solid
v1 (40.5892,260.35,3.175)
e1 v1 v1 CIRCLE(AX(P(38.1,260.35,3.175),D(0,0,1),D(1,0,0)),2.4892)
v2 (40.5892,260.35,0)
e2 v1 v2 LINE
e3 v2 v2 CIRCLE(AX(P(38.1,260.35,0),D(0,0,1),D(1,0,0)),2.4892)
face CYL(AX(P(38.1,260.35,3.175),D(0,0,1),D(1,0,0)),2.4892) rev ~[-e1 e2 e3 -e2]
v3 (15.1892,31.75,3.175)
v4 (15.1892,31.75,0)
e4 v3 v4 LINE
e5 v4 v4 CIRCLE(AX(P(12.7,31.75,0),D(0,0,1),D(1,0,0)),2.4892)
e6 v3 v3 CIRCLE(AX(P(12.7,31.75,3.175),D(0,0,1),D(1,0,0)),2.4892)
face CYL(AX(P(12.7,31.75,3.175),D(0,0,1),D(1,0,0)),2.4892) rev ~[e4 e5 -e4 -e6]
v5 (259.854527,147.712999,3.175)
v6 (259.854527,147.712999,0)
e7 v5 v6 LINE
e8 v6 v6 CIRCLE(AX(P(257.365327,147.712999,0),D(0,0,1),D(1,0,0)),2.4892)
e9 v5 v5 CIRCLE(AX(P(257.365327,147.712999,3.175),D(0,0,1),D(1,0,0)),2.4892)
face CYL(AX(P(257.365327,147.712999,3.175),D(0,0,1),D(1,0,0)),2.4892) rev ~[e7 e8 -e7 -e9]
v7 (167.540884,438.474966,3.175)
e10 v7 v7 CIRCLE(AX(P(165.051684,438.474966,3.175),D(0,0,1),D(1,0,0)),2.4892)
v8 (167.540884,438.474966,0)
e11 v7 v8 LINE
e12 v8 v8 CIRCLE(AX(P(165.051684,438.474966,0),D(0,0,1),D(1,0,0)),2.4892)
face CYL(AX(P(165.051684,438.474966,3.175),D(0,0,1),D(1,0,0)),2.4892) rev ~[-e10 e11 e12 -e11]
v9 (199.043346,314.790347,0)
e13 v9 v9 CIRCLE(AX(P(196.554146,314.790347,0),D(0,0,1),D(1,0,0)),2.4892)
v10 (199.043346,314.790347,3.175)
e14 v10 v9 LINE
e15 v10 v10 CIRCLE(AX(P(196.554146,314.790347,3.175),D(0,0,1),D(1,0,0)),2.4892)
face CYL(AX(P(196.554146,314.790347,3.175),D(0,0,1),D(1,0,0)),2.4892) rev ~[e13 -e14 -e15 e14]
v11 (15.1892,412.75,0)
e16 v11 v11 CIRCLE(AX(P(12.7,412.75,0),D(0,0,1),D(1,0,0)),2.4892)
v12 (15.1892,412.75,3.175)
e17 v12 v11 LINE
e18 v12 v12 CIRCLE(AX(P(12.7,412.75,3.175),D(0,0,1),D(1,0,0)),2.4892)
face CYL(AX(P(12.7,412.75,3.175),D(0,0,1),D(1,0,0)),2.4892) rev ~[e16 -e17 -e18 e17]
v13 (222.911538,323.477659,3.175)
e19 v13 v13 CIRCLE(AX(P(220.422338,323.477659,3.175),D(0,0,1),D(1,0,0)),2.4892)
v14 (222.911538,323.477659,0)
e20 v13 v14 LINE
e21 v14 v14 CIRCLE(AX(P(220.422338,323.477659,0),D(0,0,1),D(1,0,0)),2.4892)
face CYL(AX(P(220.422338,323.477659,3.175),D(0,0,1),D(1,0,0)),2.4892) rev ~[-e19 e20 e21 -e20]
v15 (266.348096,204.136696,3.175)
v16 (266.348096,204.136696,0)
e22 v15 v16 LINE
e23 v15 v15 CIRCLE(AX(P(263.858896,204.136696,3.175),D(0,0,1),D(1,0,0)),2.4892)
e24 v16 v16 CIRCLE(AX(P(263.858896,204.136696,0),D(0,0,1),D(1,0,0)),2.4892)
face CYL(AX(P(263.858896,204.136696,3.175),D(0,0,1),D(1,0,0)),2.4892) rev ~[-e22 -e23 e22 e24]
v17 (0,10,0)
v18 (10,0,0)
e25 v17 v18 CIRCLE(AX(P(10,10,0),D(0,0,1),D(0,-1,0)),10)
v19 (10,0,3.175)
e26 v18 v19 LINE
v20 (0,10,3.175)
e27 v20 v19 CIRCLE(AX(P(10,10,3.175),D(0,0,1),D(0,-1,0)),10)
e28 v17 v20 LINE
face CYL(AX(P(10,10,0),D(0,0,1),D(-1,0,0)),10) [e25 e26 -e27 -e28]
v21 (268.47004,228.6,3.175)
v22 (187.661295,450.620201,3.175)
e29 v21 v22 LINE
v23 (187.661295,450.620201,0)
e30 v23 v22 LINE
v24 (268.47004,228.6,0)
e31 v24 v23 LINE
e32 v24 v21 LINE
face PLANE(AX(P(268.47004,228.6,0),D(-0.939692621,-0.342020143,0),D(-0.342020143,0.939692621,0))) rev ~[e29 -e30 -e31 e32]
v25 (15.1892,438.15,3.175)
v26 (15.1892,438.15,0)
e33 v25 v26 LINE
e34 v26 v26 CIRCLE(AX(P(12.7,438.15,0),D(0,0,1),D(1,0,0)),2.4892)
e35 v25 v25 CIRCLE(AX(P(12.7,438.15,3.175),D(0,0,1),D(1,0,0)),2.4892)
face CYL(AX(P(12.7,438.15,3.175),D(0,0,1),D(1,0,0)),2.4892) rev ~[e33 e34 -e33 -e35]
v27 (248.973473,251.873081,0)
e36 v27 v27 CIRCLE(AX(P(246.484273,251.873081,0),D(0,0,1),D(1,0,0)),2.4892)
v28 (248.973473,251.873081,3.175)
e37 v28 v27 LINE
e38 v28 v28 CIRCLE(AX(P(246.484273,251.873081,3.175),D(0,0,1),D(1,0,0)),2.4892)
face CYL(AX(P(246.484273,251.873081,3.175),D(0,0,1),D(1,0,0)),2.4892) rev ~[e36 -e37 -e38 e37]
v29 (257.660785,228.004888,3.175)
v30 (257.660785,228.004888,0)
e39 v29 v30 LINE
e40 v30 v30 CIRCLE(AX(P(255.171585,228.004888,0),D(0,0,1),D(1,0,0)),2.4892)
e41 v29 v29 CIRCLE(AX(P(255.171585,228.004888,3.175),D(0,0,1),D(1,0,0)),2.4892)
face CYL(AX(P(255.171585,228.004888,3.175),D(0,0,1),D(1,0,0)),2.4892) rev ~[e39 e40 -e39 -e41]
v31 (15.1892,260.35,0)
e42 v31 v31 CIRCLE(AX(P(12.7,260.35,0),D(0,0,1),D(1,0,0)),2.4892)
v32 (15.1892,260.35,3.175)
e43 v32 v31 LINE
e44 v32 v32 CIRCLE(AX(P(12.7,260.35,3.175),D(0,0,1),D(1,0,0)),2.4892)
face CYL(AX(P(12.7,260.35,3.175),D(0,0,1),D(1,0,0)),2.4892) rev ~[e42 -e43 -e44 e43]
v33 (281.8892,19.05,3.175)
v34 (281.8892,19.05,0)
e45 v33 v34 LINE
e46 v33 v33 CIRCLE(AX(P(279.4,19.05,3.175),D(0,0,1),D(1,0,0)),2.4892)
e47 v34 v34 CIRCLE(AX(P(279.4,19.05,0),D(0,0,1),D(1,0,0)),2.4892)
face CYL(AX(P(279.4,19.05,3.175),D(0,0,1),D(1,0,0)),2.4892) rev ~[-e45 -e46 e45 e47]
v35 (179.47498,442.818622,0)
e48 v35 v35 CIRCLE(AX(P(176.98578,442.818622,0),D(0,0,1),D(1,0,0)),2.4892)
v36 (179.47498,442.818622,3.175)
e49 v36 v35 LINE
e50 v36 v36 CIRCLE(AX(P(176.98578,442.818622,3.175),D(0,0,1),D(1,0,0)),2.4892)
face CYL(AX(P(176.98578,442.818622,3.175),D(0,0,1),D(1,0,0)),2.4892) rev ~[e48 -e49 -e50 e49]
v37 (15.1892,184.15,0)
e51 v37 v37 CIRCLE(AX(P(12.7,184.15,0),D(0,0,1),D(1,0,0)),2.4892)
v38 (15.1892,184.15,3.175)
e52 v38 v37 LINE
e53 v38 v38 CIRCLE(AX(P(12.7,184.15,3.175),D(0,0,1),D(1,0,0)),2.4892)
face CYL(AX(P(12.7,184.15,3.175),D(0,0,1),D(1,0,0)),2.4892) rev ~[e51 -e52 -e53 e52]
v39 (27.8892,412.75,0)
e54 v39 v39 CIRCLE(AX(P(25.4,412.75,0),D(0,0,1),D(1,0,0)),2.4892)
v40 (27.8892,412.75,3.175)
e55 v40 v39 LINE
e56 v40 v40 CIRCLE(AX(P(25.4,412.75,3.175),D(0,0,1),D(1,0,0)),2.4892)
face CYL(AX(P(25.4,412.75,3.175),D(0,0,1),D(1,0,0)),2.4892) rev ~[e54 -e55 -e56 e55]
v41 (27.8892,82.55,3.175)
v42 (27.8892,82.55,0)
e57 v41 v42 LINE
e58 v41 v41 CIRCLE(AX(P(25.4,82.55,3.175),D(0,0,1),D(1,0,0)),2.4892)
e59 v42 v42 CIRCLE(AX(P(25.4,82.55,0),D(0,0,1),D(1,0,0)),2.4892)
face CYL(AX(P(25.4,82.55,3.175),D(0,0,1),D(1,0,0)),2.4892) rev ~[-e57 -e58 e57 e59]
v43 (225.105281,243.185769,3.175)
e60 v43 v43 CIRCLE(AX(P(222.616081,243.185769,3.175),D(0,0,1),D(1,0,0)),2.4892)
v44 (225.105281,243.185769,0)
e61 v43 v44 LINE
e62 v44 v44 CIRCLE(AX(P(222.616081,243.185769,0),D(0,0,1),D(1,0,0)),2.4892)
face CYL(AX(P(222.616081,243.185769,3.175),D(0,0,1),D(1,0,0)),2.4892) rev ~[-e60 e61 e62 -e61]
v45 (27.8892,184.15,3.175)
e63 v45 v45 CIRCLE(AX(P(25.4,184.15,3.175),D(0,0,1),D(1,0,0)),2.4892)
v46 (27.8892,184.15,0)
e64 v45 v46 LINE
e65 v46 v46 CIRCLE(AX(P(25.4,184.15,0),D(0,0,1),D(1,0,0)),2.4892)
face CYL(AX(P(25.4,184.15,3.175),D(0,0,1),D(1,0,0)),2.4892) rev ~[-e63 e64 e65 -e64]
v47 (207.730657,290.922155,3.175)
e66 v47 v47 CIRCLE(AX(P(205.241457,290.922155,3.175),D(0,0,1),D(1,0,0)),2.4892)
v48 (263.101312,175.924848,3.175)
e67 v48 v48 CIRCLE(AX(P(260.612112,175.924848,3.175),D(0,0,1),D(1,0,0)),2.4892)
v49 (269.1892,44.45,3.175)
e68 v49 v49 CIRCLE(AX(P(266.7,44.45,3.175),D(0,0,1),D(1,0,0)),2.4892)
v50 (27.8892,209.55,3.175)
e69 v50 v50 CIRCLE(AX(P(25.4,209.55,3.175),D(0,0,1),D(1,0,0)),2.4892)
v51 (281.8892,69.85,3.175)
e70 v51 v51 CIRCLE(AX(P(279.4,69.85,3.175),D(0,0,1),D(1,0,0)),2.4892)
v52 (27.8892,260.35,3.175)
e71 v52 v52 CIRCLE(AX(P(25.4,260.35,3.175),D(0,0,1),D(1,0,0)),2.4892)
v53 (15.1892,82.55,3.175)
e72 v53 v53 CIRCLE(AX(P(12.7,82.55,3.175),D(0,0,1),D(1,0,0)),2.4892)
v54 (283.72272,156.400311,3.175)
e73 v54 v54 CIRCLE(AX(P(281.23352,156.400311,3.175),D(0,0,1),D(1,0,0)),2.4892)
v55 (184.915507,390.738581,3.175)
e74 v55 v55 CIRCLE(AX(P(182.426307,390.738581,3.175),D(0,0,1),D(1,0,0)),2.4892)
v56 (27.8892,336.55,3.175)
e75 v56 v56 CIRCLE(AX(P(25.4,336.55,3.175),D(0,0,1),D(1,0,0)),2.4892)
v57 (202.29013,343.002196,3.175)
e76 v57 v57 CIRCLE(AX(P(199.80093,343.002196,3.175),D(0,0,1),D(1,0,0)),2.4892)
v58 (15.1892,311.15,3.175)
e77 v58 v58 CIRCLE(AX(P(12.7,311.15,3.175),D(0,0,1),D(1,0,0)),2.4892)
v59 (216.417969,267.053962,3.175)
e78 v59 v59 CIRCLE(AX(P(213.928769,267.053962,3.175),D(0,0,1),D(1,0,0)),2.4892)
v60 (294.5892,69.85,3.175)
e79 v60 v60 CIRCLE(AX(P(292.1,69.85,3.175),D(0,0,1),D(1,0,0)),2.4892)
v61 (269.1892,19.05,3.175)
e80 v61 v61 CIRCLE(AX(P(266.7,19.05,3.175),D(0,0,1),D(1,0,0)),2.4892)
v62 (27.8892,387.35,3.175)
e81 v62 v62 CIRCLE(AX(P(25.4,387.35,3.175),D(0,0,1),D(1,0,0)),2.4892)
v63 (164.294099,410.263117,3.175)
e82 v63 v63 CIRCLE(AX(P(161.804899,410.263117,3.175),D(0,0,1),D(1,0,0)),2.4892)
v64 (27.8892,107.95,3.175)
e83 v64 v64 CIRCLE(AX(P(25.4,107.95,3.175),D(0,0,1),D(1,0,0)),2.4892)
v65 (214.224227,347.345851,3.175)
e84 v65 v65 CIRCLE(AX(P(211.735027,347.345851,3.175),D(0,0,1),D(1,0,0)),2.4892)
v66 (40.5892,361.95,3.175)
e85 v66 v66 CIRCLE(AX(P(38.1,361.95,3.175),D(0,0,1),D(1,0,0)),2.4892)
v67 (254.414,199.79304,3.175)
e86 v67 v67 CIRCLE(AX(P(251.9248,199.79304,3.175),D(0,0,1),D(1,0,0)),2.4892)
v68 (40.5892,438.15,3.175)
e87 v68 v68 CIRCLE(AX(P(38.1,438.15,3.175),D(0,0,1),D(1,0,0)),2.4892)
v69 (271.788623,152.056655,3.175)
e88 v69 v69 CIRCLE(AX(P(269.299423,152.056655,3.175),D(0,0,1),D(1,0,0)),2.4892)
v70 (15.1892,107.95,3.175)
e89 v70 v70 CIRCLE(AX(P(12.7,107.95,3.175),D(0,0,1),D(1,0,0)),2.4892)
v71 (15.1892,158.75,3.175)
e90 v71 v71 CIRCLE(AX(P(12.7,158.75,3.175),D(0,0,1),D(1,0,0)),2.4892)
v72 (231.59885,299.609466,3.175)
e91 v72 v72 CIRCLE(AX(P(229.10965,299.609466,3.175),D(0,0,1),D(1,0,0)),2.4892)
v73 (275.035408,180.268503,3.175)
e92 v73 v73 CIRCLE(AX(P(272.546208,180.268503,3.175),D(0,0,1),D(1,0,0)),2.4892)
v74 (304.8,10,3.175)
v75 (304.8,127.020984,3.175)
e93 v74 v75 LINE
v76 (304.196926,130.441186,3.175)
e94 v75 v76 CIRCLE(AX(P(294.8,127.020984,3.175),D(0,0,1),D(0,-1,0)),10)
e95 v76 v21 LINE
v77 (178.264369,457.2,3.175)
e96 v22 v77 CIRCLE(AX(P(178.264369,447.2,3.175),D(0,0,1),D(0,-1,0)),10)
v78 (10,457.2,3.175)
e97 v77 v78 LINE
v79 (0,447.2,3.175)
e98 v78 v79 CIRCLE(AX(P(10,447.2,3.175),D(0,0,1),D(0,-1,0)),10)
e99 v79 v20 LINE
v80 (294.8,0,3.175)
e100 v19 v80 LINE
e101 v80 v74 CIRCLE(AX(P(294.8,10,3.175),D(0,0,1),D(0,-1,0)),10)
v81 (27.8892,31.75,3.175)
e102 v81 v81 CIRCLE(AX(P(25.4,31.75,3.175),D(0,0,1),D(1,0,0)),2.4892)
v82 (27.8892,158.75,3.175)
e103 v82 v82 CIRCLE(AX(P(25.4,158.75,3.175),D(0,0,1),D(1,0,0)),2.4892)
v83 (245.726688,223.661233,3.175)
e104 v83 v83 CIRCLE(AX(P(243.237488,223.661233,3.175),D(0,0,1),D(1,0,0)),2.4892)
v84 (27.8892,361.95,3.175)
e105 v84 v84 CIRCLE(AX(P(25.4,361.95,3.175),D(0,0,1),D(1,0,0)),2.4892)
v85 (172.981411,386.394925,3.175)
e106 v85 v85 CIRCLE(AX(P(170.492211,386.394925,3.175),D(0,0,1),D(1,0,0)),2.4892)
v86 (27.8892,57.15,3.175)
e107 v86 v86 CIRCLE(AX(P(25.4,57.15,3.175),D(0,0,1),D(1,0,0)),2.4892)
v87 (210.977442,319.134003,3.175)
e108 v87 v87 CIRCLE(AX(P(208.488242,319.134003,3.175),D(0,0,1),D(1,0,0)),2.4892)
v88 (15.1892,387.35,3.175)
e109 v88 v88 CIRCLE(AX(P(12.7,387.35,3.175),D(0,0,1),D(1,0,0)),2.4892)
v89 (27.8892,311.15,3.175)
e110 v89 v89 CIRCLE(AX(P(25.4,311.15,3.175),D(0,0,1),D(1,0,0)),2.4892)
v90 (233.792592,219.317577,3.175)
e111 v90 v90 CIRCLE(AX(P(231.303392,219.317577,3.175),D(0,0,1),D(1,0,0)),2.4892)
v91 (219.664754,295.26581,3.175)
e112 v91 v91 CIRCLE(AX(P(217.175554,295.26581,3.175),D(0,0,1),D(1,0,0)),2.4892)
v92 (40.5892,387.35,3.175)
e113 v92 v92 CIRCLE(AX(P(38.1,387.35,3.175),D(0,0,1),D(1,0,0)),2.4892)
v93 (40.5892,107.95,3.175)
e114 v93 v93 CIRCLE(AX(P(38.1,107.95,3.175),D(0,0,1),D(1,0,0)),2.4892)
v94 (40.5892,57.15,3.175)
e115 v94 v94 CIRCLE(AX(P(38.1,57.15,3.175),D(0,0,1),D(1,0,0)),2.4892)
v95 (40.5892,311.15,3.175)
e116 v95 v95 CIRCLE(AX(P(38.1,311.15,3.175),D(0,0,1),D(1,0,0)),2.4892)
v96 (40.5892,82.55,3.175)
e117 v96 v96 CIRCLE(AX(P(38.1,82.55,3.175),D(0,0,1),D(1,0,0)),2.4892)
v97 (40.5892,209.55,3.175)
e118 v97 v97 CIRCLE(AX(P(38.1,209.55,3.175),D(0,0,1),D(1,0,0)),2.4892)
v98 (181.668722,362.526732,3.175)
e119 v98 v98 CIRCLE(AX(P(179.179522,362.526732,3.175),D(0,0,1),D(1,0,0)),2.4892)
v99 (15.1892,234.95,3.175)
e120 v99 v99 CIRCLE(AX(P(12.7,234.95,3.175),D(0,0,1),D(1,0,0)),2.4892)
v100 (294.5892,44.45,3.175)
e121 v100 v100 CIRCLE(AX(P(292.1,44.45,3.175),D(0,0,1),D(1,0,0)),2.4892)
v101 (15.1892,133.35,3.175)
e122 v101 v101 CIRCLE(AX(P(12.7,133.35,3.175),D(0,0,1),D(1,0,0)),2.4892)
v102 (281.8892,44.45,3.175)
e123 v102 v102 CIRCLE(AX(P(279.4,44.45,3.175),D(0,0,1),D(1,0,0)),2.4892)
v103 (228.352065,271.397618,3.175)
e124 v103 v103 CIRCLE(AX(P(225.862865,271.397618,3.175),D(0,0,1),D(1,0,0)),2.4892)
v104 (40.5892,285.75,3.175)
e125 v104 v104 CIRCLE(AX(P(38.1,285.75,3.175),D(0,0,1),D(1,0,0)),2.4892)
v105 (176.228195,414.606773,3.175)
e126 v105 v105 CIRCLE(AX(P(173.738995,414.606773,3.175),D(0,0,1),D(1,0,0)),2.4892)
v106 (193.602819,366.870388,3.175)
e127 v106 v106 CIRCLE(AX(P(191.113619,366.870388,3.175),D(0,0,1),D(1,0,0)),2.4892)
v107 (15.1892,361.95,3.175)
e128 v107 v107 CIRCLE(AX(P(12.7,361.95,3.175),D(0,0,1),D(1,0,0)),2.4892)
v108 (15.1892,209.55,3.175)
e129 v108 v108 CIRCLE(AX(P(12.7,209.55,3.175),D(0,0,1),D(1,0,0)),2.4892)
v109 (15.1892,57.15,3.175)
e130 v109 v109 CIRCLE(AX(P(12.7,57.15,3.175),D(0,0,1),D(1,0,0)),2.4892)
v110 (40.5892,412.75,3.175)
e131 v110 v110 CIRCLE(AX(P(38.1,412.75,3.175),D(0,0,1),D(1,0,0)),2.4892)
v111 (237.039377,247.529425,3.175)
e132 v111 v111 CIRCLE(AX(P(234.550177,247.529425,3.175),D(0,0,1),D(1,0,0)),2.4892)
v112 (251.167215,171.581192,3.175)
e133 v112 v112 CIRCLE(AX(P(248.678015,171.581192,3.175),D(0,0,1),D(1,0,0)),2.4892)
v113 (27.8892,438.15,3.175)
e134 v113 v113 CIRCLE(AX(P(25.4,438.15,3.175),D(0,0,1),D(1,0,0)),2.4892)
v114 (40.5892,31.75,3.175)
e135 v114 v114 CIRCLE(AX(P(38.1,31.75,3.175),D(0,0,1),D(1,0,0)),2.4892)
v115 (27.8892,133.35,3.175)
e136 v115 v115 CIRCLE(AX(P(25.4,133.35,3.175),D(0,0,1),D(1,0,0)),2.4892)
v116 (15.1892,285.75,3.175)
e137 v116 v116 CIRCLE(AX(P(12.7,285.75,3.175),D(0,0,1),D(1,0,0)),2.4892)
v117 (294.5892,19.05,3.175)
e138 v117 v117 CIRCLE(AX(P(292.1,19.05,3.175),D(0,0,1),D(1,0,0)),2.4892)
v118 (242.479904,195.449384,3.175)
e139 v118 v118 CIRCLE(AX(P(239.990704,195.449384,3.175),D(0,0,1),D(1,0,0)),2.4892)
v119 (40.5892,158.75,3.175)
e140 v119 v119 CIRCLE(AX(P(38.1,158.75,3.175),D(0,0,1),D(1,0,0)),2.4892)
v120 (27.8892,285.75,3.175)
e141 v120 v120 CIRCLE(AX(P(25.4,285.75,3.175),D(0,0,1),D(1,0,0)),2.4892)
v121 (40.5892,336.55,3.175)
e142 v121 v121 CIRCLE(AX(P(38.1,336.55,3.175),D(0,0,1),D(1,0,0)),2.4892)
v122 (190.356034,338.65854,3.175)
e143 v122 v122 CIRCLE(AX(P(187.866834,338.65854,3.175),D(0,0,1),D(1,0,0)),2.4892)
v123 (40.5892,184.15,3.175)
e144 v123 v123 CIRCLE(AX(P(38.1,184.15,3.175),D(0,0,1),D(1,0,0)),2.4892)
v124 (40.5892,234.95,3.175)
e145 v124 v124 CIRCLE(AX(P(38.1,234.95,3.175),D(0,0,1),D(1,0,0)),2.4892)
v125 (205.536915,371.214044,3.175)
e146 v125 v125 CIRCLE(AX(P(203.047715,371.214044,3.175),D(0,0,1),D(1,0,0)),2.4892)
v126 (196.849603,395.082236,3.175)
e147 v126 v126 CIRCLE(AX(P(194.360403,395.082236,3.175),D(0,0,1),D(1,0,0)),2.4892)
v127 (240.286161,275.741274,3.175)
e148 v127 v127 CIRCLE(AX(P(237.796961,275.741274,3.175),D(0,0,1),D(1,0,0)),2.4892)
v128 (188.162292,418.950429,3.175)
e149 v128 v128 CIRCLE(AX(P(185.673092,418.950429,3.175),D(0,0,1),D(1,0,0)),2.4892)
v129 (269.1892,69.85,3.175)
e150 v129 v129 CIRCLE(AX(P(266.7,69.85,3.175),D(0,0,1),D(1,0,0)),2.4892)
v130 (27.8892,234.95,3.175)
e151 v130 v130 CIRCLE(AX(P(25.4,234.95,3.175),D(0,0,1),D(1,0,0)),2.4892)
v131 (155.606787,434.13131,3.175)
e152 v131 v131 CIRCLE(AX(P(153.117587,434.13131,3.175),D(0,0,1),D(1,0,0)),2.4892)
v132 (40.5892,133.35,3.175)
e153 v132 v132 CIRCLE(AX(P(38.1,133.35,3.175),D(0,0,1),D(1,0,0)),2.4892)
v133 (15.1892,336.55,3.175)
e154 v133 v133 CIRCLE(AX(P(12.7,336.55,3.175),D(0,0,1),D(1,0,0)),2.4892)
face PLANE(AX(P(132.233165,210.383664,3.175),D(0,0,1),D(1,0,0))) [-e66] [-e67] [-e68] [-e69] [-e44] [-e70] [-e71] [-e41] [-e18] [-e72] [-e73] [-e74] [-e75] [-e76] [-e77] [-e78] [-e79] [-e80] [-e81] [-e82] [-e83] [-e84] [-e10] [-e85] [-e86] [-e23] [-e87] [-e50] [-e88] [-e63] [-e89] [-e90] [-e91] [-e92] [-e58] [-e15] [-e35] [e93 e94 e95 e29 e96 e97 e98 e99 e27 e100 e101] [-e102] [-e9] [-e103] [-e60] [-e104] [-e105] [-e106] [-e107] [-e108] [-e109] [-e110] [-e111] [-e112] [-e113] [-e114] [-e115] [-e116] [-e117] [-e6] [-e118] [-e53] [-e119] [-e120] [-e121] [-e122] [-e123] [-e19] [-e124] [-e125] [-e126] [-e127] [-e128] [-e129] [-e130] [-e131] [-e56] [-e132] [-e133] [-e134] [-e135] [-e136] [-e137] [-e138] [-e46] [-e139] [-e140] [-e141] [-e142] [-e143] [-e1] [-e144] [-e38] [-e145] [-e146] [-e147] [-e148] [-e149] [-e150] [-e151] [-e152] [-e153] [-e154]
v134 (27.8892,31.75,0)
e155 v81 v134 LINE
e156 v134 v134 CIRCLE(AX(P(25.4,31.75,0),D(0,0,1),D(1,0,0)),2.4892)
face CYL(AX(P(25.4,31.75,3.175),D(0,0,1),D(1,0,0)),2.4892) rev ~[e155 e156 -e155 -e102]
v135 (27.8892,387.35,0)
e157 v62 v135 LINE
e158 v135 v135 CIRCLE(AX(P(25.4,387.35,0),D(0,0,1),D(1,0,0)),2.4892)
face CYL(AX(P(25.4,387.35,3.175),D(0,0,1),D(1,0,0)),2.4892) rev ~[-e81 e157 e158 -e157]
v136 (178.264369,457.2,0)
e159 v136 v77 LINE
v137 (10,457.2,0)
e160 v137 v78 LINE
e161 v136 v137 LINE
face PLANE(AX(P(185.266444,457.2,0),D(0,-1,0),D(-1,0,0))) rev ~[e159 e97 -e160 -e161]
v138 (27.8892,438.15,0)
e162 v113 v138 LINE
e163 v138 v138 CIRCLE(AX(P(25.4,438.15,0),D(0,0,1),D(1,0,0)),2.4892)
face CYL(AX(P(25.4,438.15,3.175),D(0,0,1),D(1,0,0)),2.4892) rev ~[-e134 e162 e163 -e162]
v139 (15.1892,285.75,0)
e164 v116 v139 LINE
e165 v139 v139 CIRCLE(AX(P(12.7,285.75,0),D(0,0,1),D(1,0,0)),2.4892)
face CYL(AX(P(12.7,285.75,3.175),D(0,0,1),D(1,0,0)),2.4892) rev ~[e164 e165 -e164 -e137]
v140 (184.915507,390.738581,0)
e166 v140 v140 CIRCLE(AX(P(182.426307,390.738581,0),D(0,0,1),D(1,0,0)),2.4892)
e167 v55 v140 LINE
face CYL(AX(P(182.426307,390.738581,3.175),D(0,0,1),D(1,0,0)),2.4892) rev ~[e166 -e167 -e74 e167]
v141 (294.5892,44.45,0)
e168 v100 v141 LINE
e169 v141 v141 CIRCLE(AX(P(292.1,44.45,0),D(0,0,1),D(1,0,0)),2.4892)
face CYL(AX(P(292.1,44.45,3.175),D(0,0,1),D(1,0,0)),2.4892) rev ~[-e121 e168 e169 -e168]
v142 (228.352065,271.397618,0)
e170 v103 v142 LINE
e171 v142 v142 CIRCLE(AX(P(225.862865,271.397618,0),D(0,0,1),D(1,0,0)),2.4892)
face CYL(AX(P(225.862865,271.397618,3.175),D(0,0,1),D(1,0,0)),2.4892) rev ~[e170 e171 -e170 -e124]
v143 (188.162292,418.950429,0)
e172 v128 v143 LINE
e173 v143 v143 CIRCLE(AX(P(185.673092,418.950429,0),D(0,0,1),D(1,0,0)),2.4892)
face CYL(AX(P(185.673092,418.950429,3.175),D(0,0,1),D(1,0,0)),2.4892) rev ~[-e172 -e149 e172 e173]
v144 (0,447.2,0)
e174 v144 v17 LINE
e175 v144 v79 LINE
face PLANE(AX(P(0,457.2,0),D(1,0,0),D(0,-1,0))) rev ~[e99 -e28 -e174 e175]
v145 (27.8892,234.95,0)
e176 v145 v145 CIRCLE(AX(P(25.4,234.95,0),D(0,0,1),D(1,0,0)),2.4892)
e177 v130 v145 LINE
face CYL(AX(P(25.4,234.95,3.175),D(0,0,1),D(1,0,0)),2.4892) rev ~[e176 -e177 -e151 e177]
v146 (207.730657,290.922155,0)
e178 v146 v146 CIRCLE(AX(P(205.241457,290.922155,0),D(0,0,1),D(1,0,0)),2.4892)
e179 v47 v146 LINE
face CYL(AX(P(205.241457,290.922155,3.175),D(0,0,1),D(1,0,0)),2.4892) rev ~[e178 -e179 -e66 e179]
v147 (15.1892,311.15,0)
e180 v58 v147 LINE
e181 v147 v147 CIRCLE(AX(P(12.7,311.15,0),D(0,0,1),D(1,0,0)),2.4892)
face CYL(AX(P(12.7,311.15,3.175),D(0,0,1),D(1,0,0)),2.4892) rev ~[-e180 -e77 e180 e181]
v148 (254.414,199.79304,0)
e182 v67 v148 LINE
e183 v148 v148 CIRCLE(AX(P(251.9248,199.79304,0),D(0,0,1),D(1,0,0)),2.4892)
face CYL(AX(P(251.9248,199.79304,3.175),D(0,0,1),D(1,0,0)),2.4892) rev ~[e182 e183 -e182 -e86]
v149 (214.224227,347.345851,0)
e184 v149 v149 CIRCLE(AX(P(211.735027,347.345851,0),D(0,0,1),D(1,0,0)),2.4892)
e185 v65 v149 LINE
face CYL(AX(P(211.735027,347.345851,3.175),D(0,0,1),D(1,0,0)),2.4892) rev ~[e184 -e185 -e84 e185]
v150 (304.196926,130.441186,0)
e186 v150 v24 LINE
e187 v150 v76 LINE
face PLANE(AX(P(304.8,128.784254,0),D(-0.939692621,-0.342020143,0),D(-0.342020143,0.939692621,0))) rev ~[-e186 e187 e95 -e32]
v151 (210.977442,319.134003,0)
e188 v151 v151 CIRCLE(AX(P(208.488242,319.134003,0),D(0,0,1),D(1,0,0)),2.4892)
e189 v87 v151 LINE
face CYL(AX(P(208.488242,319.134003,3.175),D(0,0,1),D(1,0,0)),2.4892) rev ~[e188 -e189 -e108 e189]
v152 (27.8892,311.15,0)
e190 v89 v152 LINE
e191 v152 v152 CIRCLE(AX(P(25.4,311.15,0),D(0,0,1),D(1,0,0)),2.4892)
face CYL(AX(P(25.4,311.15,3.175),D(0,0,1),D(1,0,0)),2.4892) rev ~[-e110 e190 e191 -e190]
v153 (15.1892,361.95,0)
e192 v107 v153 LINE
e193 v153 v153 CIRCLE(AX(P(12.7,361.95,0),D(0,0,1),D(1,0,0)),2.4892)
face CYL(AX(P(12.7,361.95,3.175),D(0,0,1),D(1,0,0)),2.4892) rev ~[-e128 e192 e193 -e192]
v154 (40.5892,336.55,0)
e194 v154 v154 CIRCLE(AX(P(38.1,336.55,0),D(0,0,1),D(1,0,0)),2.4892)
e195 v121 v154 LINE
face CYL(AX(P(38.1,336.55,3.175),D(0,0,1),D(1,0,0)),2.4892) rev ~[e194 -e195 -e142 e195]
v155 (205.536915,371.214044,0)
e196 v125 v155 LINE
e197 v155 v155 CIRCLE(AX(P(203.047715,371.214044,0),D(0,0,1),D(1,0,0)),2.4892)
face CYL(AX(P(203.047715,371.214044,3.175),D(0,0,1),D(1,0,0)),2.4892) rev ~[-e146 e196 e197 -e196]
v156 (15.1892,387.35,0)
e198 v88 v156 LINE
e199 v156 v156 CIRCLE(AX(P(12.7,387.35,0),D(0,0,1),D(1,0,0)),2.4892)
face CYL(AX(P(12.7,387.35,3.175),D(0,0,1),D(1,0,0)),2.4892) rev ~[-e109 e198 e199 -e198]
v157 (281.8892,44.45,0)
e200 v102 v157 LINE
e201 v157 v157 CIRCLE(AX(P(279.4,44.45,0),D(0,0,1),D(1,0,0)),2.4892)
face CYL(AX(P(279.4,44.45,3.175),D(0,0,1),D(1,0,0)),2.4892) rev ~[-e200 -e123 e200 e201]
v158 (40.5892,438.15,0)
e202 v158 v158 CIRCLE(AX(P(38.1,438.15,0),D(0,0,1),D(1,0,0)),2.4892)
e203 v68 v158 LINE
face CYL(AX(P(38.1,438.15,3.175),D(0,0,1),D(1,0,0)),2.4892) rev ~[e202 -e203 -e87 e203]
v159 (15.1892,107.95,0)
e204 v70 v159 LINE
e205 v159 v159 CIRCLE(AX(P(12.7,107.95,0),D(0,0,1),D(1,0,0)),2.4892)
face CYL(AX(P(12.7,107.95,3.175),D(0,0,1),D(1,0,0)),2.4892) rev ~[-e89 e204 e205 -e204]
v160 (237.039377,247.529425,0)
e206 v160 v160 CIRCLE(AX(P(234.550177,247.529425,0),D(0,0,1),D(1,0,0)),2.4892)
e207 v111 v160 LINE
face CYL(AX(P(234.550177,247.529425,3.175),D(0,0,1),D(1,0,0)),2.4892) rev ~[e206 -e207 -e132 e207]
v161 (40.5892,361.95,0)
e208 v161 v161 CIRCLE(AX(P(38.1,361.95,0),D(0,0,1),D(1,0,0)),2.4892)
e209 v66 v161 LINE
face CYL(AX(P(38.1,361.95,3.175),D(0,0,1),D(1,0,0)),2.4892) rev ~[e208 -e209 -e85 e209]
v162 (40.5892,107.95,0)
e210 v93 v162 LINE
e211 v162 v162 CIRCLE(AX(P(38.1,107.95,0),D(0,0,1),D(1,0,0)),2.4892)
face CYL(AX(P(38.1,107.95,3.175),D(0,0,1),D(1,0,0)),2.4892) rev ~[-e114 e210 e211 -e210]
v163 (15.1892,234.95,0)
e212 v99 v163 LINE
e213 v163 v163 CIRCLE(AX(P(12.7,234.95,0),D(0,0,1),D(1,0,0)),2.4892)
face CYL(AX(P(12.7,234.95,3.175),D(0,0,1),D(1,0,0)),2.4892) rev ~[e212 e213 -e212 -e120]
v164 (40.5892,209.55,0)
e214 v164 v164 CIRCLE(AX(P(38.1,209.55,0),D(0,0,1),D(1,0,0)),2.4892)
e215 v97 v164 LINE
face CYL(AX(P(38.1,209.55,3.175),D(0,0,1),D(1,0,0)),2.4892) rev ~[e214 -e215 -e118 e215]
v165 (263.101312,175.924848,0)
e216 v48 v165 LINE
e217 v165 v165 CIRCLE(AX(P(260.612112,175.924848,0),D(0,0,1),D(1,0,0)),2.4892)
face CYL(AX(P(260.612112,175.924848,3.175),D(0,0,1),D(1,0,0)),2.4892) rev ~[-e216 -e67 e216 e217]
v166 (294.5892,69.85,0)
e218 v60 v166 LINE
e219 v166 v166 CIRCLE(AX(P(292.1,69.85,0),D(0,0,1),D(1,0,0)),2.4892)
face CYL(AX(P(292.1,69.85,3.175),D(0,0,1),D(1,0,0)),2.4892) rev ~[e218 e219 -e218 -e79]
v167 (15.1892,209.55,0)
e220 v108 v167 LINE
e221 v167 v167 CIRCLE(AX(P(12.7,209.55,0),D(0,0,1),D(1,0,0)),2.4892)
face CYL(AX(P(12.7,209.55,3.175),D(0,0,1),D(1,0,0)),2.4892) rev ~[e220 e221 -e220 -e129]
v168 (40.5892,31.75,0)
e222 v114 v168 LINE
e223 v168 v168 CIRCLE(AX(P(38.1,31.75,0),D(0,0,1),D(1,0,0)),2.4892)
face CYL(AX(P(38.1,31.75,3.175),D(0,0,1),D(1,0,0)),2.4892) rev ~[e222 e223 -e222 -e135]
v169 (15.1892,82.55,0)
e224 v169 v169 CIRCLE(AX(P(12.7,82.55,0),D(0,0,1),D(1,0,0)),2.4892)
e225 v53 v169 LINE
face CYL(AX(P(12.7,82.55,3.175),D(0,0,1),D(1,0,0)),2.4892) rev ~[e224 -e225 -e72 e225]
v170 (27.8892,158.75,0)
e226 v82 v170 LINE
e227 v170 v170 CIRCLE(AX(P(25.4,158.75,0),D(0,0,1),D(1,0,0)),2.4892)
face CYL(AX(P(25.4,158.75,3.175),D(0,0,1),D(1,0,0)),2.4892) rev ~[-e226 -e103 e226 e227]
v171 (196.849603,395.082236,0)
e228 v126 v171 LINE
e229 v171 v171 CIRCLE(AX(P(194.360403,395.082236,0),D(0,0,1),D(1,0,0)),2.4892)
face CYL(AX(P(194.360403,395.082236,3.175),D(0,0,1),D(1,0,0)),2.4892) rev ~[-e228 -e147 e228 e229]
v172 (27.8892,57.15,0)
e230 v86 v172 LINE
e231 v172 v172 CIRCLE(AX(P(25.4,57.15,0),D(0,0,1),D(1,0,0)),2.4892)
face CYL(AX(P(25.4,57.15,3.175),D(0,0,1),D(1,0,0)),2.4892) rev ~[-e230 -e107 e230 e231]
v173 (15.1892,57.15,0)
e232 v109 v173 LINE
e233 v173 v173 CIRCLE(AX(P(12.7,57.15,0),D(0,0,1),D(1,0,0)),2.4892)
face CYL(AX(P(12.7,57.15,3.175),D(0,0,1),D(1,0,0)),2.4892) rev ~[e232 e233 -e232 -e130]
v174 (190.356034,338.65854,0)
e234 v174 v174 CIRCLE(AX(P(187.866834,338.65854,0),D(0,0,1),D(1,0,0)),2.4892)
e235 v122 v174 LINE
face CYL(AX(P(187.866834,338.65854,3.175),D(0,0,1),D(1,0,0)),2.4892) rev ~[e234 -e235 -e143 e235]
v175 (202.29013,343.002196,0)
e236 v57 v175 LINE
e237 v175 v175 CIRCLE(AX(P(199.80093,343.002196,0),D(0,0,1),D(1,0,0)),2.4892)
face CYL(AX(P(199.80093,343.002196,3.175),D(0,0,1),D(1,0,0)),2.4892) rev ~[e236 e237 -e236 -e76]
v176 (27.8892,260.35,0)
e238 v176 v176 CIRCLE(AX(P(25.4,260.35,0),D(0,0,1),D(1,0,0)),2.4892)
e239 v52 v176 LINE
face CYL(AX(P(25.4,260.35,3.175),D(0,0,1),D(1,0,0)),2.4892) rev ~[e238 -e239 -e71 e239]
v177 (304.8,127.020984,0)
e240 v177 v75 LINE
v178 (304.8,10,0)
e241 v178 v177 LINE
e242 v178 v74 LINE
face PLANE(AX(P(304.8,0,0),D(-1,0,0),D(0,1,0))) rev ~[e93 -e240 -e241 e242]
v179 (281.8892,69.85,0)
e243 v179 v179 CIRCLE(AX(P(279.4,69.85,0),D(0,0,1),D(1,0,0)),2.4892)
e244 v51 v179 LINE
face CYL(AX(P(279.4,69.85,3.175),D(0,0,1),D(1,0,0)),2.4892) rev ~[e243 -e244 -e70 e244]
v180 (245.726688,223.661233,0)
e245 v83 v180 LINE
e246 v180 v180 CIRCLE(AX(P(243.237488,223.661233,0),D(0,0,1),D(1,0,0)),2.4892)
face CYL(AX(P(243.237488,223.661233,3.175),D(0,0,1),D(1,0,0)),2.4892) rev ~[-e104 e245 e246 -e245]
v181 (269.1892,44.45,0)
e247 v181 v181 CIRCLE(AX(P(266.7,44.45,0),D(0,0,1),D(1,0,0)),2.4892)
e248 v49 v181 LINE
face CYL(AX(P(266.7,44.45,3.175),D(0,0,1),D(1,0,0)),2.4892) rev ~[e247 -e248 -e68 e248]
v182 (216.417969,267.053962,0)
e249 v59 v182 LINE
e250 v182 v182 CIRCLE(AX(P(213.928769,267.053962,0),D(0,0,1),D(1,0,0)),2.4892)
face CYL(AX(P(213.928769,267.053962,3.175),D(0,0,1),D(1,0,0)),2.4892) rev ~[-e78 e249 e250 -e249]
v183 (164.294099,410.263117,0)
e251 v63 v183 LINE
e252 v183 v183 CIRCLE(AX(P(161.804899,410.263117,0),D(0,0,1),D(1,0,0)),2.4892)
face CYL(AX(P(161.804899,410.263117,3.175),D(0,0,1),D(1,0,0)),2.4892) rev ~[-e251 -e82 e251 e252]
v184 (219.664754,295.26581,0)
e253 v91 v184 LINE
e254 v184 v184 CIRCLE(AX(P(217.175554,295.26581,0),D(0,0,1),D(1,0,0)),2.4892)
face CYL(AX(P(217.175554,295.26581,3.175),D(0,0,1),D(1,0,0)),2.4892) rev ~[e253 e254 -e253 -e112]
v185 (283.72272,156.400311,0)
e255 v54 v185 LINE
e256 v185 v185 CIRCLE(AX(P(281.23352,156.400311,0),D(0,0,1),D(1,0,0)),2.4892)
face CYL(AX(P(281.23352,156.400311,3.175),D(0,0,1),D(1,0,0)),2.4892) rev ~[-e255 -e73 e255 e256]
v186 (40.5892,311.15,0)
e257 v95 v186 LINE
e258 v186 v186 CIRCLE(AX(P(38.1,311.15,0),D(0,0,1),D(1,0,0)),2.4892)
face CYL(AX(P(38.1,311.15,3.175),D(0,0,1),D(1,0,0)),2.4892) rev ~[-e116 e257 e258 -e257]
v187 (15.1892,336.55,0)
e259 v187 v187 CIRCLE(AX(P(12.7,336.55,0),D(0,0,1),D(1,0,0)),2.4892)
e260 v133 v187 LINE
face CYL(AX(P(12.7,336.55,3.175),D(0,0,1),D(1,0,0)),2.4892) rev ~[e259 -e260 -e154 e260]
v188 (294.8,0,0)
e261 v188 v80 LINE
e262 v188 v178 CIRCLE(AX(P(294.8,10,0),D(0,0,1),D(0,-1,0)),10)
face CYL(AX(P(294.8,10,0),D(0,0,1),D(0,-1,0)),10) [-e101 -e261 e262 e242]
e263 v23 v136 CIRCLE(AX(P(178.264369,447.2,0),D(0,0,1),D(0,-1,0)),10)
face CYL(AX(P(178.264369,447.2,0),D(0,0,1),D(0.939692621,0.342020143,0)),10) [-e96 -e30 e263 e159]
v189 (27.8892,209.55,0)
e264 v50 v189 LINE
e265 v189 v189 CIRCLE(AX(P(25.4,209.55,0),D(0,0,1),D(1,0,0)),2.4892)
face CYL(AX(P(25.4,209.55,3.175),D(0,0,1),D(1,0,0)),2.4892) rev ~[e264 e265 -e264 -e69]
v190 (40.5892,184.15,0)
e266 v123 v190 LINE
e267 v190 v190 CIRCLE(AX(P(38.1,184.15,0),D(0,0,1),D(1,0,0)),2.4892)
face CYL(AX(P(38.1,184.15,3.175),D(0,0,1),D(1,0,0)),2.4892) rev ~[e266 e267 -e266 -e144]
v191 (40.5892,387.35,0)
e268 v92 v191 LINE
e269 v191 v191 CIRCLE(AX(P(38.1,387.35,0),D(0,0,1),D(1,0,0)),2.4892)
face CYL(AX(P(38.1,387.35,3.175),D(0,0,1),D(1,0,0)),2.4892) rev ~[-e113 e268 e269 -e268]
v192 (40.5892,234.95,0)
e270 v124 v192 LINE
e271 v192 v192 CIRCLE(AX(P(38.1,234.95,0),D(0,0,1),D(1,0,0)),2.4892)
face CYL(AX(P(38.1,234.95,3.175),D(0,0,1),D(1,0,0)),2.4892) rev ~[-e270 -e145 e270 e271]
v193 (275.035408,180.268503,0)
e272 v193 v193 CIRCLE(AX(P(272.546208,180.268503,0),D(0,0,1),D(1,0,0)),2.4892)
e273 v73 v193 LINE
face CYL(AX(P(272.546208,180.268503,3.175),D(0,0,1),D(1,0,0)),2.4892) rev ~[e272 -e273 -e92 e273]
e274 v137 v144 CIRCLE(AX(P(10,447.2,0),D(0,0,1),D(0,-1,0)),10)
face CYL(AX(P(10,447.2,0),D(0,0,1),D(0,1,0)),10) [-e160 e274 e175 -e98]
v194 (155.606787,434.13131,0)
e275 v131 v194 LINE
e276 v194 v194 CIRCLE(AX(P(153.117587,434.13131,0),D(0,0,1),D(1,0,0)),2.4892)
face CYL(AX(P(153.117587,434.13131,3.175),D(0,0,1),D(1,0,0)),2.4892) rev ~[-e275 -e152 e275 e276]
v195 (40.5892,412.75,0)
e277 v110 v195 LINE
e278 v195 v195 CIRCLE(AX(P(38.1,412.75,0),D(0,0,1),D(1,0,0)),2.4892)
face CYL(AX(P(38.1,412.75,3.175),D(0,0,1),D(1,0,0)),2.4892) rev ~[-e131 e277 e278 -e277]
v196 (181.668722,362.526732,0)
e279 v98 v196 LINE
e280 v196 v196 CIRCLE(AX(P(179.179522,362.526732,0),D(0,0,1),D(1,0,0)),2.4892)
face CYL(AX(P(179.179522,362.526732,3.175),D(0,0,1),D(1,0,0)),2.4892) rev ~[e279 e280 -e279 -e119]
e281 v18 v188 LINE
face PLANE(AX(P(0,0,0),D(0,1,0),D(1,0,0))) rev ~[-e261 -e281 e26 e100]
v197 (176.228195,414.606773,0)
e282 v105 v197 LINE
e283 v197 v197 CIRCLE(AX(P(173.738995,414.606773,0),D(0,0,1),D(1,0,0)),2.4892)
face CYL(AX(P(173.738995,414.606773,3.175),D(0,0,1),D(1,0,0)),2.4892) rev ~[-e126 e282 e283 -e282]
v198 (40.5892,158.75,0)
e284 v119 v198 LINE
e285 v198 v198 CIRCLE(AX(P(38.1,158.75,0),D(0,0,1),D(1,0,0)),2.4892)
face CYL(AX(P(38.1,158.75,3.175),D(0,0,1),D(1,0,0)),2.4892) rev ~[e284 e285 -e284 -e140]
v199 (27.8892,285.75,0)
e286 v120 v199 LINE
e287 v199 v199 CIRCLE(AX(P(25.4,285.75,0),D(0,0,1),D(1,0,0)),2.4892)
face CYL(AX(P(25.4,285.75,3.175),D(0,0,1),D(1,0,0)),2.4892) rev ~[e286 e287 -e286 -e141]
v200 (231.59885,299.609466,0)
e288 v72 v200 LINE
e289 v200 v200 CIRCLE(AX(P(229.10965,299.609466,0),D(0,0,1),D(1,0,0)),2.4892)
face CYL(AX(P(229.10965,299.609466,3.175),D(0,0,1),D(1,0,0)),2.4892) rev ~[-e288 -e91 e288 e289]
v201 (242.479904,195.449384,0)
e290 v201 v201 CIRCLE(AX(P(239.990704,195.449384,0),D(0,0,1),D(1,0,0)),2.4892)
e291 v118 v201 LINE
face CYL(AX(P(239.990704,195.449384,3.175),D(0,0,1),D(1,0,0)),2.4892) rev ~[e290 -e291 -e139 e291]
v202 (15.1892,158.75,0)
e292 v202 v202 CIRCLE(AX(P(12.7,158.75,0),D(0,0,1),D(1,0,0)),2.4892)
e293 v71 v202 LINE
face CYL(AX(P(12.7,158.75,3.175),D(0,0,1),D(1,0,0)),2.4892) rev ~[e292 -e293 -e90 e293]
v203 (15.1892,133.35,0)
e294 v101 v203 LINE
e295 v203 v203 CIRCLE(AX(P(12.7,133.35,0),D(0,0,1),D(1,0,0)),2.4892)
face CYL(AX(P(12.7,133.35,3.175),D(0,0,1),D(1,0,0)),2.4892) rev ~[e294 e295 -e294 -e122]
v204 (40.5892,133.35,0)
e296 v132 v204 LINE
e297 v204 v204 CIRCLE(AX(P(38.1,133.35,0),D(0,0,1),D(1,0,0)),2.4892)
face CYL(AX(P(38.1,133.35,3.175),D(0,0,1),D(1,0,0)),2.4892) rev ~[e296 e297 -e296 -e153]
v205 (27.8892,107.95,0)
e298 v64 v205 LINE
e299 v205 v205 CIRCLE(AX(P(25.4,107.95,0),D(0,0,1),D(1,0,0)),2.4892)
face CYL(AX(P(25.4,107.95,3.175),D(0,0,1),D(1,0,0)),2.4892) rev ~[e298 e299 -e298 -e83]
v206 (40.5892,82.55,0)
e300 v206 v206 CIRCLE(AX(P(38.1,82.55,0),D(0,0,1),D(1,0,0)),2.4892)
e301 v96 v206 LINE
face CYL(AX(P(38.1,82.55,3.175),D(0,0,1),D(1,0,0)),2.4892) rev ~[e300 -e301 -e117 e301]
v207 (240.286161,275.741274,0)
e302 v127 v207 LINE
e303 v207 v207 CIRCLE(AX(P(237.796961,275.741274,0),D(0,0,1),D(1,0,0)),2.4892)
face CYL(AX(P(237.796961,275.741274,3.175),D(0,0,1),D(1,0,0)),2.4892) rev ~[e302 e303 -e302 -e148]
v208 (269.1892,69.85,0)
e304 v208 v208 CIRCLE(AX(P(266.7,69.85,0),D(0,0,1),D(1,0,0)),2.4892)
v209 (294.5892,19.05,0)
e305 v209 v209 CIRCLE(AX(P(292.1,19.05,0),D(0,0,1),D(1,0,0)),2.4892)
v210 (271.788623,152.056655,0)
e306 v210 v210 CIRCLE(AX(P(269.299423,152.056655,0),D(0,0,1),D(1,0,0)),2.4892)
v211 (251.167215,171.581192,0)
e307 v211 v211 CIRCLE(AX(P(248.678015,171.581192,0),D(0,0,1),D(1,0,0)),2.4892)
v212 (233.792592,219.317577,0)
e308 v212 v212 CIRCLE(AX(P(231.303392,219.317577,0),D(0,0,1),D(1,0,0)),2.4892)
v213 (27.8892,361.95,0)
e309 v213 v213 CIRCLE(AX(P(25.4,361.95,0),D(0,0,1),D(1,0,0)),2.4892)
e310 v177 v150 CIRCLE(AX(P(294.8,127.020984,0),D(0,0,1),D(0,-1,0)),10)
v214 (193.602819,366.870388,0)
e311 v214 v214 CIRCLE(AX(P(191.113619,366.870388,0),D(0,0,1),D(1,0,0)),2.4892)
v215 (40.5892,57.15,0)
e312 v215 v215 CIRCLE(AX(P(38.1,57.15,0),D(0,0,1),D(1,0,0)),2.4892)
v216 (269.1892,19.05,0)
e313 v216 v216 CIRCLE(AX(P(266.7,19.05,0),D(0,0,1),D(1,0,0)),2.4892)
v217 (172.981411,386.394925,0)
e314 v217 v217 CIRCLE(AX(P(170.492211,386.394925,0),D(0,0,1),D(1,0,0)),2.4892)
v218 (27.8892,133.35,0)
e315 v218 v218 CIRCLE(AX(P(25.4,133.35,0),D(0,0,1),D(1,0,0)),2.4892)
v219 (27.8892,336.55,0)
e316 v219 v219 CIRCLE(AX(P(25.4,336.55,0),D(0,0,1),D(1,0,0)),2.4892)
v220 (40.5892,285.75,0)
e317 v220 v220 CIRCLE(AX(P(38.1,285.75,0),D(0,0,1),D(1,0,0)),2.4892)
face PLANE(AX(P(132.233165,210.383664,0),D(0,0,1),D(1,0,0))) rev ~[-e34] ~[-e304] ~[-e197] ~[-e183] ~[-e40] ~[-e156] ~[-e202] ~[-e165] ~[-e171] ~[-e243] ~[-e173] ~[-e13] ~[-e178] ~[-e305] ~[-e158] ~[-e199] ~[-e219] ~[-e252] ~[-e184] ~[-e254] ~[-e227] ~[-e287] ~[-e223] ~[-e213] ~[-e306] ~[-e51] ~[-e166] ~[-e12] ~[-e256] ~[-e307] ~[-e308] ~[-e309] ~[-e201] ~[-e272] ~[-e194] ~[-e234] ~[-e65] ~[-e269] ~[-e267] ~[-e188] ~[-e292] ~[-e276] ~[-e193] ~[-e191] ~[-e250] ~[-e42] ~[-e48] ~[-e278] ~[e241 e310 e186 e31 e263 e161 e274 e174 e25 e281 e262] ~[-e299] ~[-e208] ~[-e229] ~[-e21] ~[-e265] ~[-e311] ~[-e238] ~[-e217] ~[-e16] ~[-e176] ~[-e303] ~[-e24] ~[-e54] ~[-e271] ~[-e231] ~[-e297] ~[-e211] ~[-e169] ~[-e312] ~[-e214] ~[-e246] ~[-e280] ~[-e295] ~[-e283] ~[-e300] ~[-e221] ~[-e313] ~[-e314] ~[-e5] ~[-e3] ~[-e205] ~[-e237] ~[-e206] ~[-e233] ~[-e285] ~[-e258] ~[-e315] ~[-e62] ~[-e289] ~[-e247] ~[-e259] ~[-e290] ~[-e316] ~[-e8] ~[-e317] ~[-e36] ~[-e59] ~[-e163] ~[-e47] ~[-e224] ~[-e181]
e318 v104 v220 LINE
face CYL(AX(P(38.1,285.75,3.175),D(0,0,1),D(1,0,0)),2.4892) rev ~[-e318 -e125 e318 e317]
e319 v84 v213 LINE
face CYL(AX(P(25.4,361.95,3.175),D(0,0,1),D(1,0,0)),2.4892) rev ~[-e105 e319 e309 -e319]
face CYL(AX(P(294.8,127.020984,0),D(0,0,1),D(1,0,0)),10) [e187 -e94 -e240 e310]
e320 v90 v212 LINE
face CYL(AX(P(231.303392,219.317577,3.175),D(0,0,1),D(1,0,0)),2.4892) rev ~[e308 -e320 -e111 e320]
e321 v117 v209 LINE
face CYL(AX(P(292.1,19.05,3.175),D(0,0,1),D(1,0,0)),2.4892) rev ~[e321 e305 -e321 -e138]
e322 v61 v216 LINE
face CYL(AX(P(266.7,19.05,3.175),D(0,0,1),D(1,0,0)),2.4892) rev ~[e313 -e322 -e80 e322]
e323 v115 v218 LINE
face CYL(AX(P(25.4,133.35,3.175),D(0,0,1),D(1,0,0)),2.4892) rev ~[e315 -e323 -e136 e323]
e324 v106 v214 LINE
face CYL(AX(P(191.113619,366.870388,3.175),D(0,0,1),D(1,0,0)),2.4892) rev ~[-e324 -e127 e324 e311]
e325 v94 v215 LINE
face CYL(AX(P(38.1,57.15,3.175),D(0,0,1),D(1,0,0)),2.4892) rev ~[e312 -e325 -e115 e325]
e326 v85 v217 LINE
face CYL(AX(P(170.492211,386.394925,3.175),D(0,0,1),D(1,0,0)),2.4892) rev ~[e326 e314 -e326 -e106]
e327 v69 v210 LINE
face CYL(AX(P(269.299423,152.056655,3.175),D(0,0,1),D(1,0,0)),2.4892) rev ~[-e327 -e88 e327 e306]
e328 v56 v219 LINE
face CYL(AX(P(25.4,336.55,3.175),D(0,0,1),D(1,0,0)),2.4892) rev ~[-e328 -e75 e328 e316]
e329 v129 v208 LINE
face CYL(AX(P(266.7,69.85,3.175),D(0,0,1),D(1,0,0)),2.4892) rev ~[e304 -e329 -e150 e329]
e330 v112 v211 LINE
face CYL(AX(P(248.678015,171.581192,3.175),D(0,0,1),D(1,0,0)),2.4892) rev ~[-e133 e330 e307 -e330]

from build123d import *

# Parameters (mm, degrees)
BOSS_EXTRUDE1_DEPTH = 3.175
FILLET1_R           = 10
SKETCH2_R           = 2.4892
CUT_EXTRUDE1_DEPTH  = 550.495187081


with BuildPart() as part:
    # Sketch1 → Boss-Extrude1 (new body)
    with BuildSketch(Plane.XY):
        Polygon((268.470039594, 228.6), (185.266444041, 457.2), (0, 457.2), (0, 0), (304.8, 0), (304.8, 128.784254135), align=None)
    extrude(amount=BOSS_EXTRUDE1_DEPTH)

    # Fillet1
    fillet1_edges = [part.edges().sort_by_distance(p)[0] for p in [
        (304.8, 128.784254135, 1.5875),
        (304.8, 0, 1.5875),
        (0, 0, 1.5875),
        (0, 457.2, 1.5875),
        (185.266444041, 457.2, 1.5875),
    ]]
    fillet(fillet1_edges, radius=FILLET1_R)

    # Sketch2 → Cut-Extrude1 (cut, through all)
    with BuildSketch(Plane.XY.offset(3.175)):
        with Locations((12.7, 438.15)):
            Circle(SKETCH2_R)
        with Locations((25.4, 438.15)):
            Circle(SKETCH2_R)
        with Locations((38.1, 438.15)):
            Circle(SKETCH2_R)
        with Locations((266.7, 19.05)):
            Circle(SKETCH2_R)
        with Locations((279.4, 19.05)):
            Circle(SKETCH2_R)
        with Locations((292.1, 19.05)):
            Circle(SKETCH2_R)
        with Locations((12.7, 412.75)):
            Circle(SKETCH2_R)
        with Locations((25.4, 412.75)):
            Circle(SKETCH2_R)
        with Locations((38.1, 412.75)):
            Circle(SKETCH2_R)
        with Locations((12.7, 387.35)):
            Circle(SKETCH2_R)
        with Locations((25.4, 387.35)):
            Circle(SKETCH2_R)
        with Locations((38.1, 387.35)):
            Circle(SKETCH2_R)
        with Locations((12.7, 361.95)):
            Circle(SKETCH2_R)
        with Locations((25.4, 361.95)):
            Circle(SKETCH2_R)
        with Locations((38.1, 361.95)):
            Circle(SKETCH2_R)
        with Locations((12.7, 336.55)):
            Circle(SKETCH2_R)
        with Locations((25.4, 336.55)):
            Circle(SKETCH2_R)
        with Locations((38.1, 336.55)):
            Circle(SKETCH2_R)
        with Locations((12.7, 311.15)):
            Circle(SKETCH2_R)
        with Locations((25.4, 311.15)):
            Circle(SKETCH2_R)
        with Locations((38.1, 311.15)):
            Circle(SKETCH2_R)
        with Locations((12.7, 285.75)):
            Circle(SKETCH2_R)
        with Locations((25.4, 285.75)):
            Circle(SKETCH2_R)
        with Locations((38.1, 285.75)):
            Circle(SKETCH2_R)
        with Locations((12.7, 260.35)):
            Circle(SKETCH2_R)
        with Locations((25.4, 260.35)):
            Circle(SKETCH2_R)
        with Locations((38.1, 260.35)):
            Circle(SKETCH2_R)
        with Locations((12.7, 234.95)):
            Circle(SKETCH2_R)
        with Locations((25.4, 234.95)):
            Circle(SKETCH2_R)
        with Locations((38.1, 234.95)):
            Circle(SKETCH2_R)
        with Locations((12.7, 209.55)):
            Circle(SKETCH2_R)
        with Locations((25.4, 209.55)):
            Circle(SKETCH2_R)
        with Locations((38.1, 209.55)):
            Circle(SKETCH2_R)
        with Locations((12.7, 184.15)):
            Circle(SKETCH2_R)
        with Locations((25.4, 184.15)):
            Circle(SKETCH2_R)
        with Locations((38.1, 184.15)):
            Circle(SKETCH2_R)
        with Locations((12.7, 158.75)):
            Circle(SKETCH2_R)
        with Locations((25.4, 158.75)):
            Circle(SKETCH2_R)
        with Locations((38.1, 158.75)):
            Circle(SKETCH2_R)
        with Locations((12.7, 133.35)):
            Circle(SKETCH2_R)
        with Locations((25.4, 133.35)):
            Circle(SKETCH2_R)
        with Locations((38.1, 133.35)):
            Circle(SKETCH2_R)
        with Locations((12.7, 107.95)):
            Circle(SKETCH2_R)
        with Locations((25.4, 107.95)):
            Circle(SKETCH2_R)
        with Locations((38.1, 107.95)):
            Circle(SKETCH2_R)
        with Locations((12.7, 82.55)):
            Circle(SKETCH2_R)
        with Locations((25.4, 82.55)):
            Circle(SKETCH2_R)
        with Locations((38.1, 82.55)):
            Circle(SKETCH2_R)
        with Locations((12.7, 57.15)):
            Circle(SKETCH2_R)
        with Locations((25.4, 57.15)):
            Circle(SKETCH2_R)
        with Locations((38.1, 57.15)):
            Circle(SKETCH2_R)
        with Locations((12.7, 31.75)):
            Circle(SKETCH2_R)
        with Locations((25.4, 31.75)):
            Circle(SKETCH2_R)
        with Locations((38.1, 31.75)):
            Circle(SKETCH2_R)
        with Locations((176.985779996, 442.8186216)):
            Circle(SKETCH2_R)
        with Locations((165.051683712, 438.47496578)):
            Circle(SKETCH2_R)
        with Locations((153.117587428, 434.13130996)):
            Circle(SKETCH2_R)
        with Locations((266.7, 44.45)):
            Circle(SKETCH2_R)
        with Locations((279.4, 44.45)):
            Circle(SKETCH2_R)
        with Locations((292.1, 44.45)):
            Circle(SKETCH2_R)
        with Locations((266.7, 69.85)):
            Circle(SKETCH2_R)
        with Locations((279.4, 69.85)):
            Circle(SKETCH2_R)
        with Locations((292.1, 69.85)):
            Circle(SKETCH2_R)
        with Locations((161.804899069, 410.263117392)):
            Circle(SKETCH2_R)
        with Locations((173.738995353, 414.606773212)):
            Circle(SKETCH2_R)
        with Locations((185.673091636, 418.950429032)):
            Circle(SKETCH2_R)
        with Locations((170.492210709, 386.394924824)):
            Circle(SKETCH2_R)
        with Locations((182.426306993, 390.738580644)):
            Circle(SKETCH2_R)
        with Locations((194.360403277, 395.082236464)):
            Circle(SKETCH2_R)
        with Locations((179.179522349, 362.526732256)):
            Circle(SKETCH2_R)
        with Locations((191.113618633, 366.870388076)):
            Circle(SKETCH2_R)
        with Locations((203.047714917, 371.214043896)):
            Circle(SKETCH2_R)
        with Locations((187.86683399, 338.658539688)):
            Circle(SKETCH2_R)
        with Locations((199.800930274, 343.002195508)):
            Circle(SKETCH2_R)
        with Locations((211.735026558, 347.345851328)):
            Circle(SKETCH2_R)
        with Locations((196.55414563, 314.79034712)):
            Circle(SKETCH2_R)
        with Locations((208.488241914, 319.13400294)):
            Circle(SKETCH2_R)
        with Locations((220.422338198, 323.47765876)):
            Circle(SKETCH2_R)
        with Locations((205.241457271, 290.922154552)):
            Circle(SKETCH2_R)
        with Locations((217.175553555, 295.265810372)):
            Circle(SKETCH2_R)
        with Locations((229.109649839, 299.609466192)):
            Circle(SKETCH2_R)
        with Locations((213.928768911, 267.053961984)):
            Circle(SKETCH2_R)
        with Locations((225.862865195, 271.397617804)):
            Circle(SKETCH2_R)
        with Locations((237.796961479, 275.741273624)):
            Circle(SKETCH2_R)
        with Locations((222.616080552, 243.185769416)):
            Circle(SKETCH2_R)
        with Locations((234.550176836, 247.529425236)):
            Circle(SKETCH2_R)
        with Locations((246.48427312, 251.873081056)):
            Circle(SKETCH2_R)
        with Locations((231.303392192, 219.317576848)):
            Circle(SKETCH2_R)
        with Locations((243.237488476, 223.661232668)):
            Circle(SKETCH2_R)
        with Locations((255.17158476, 228.004888488)):
            Circle(SKETCH2_R)
        with Locations((239.990703833, 195.44938428)):
            Circle(SKETCH2_R)
        with Locations((251.924800117, 199.7930401)):
            Circle(SKETCH2_R)
        with Locations((263.858896401, 204.13669592)):
            Circle(SKETCH2_R)
        with Locations((248.678015473, 171.581191712)):
            Circle(SKETCH2_R)
        with Locations((260.612111757, 175.924847532)):
            Circle(SKETCH2_R)
        with Locations((272.546208041, 180.268503352)):
            Circle(SKETCH2_R)
        with Locations((257.365327114, 147.712999144)):
            Circle(SKETCH2_R)
        with Locations((269.299423398, 152.056654964)):
            Circle(SKETCH2_R)
        with Locations((281.233519682, 156.400310784)):
            Circle(SKETCH2_R)
    extrude(amount=-CUT_EXTRUDE1_DEPTH, mode=Mode.SUBTRACT)


solid = part.part
